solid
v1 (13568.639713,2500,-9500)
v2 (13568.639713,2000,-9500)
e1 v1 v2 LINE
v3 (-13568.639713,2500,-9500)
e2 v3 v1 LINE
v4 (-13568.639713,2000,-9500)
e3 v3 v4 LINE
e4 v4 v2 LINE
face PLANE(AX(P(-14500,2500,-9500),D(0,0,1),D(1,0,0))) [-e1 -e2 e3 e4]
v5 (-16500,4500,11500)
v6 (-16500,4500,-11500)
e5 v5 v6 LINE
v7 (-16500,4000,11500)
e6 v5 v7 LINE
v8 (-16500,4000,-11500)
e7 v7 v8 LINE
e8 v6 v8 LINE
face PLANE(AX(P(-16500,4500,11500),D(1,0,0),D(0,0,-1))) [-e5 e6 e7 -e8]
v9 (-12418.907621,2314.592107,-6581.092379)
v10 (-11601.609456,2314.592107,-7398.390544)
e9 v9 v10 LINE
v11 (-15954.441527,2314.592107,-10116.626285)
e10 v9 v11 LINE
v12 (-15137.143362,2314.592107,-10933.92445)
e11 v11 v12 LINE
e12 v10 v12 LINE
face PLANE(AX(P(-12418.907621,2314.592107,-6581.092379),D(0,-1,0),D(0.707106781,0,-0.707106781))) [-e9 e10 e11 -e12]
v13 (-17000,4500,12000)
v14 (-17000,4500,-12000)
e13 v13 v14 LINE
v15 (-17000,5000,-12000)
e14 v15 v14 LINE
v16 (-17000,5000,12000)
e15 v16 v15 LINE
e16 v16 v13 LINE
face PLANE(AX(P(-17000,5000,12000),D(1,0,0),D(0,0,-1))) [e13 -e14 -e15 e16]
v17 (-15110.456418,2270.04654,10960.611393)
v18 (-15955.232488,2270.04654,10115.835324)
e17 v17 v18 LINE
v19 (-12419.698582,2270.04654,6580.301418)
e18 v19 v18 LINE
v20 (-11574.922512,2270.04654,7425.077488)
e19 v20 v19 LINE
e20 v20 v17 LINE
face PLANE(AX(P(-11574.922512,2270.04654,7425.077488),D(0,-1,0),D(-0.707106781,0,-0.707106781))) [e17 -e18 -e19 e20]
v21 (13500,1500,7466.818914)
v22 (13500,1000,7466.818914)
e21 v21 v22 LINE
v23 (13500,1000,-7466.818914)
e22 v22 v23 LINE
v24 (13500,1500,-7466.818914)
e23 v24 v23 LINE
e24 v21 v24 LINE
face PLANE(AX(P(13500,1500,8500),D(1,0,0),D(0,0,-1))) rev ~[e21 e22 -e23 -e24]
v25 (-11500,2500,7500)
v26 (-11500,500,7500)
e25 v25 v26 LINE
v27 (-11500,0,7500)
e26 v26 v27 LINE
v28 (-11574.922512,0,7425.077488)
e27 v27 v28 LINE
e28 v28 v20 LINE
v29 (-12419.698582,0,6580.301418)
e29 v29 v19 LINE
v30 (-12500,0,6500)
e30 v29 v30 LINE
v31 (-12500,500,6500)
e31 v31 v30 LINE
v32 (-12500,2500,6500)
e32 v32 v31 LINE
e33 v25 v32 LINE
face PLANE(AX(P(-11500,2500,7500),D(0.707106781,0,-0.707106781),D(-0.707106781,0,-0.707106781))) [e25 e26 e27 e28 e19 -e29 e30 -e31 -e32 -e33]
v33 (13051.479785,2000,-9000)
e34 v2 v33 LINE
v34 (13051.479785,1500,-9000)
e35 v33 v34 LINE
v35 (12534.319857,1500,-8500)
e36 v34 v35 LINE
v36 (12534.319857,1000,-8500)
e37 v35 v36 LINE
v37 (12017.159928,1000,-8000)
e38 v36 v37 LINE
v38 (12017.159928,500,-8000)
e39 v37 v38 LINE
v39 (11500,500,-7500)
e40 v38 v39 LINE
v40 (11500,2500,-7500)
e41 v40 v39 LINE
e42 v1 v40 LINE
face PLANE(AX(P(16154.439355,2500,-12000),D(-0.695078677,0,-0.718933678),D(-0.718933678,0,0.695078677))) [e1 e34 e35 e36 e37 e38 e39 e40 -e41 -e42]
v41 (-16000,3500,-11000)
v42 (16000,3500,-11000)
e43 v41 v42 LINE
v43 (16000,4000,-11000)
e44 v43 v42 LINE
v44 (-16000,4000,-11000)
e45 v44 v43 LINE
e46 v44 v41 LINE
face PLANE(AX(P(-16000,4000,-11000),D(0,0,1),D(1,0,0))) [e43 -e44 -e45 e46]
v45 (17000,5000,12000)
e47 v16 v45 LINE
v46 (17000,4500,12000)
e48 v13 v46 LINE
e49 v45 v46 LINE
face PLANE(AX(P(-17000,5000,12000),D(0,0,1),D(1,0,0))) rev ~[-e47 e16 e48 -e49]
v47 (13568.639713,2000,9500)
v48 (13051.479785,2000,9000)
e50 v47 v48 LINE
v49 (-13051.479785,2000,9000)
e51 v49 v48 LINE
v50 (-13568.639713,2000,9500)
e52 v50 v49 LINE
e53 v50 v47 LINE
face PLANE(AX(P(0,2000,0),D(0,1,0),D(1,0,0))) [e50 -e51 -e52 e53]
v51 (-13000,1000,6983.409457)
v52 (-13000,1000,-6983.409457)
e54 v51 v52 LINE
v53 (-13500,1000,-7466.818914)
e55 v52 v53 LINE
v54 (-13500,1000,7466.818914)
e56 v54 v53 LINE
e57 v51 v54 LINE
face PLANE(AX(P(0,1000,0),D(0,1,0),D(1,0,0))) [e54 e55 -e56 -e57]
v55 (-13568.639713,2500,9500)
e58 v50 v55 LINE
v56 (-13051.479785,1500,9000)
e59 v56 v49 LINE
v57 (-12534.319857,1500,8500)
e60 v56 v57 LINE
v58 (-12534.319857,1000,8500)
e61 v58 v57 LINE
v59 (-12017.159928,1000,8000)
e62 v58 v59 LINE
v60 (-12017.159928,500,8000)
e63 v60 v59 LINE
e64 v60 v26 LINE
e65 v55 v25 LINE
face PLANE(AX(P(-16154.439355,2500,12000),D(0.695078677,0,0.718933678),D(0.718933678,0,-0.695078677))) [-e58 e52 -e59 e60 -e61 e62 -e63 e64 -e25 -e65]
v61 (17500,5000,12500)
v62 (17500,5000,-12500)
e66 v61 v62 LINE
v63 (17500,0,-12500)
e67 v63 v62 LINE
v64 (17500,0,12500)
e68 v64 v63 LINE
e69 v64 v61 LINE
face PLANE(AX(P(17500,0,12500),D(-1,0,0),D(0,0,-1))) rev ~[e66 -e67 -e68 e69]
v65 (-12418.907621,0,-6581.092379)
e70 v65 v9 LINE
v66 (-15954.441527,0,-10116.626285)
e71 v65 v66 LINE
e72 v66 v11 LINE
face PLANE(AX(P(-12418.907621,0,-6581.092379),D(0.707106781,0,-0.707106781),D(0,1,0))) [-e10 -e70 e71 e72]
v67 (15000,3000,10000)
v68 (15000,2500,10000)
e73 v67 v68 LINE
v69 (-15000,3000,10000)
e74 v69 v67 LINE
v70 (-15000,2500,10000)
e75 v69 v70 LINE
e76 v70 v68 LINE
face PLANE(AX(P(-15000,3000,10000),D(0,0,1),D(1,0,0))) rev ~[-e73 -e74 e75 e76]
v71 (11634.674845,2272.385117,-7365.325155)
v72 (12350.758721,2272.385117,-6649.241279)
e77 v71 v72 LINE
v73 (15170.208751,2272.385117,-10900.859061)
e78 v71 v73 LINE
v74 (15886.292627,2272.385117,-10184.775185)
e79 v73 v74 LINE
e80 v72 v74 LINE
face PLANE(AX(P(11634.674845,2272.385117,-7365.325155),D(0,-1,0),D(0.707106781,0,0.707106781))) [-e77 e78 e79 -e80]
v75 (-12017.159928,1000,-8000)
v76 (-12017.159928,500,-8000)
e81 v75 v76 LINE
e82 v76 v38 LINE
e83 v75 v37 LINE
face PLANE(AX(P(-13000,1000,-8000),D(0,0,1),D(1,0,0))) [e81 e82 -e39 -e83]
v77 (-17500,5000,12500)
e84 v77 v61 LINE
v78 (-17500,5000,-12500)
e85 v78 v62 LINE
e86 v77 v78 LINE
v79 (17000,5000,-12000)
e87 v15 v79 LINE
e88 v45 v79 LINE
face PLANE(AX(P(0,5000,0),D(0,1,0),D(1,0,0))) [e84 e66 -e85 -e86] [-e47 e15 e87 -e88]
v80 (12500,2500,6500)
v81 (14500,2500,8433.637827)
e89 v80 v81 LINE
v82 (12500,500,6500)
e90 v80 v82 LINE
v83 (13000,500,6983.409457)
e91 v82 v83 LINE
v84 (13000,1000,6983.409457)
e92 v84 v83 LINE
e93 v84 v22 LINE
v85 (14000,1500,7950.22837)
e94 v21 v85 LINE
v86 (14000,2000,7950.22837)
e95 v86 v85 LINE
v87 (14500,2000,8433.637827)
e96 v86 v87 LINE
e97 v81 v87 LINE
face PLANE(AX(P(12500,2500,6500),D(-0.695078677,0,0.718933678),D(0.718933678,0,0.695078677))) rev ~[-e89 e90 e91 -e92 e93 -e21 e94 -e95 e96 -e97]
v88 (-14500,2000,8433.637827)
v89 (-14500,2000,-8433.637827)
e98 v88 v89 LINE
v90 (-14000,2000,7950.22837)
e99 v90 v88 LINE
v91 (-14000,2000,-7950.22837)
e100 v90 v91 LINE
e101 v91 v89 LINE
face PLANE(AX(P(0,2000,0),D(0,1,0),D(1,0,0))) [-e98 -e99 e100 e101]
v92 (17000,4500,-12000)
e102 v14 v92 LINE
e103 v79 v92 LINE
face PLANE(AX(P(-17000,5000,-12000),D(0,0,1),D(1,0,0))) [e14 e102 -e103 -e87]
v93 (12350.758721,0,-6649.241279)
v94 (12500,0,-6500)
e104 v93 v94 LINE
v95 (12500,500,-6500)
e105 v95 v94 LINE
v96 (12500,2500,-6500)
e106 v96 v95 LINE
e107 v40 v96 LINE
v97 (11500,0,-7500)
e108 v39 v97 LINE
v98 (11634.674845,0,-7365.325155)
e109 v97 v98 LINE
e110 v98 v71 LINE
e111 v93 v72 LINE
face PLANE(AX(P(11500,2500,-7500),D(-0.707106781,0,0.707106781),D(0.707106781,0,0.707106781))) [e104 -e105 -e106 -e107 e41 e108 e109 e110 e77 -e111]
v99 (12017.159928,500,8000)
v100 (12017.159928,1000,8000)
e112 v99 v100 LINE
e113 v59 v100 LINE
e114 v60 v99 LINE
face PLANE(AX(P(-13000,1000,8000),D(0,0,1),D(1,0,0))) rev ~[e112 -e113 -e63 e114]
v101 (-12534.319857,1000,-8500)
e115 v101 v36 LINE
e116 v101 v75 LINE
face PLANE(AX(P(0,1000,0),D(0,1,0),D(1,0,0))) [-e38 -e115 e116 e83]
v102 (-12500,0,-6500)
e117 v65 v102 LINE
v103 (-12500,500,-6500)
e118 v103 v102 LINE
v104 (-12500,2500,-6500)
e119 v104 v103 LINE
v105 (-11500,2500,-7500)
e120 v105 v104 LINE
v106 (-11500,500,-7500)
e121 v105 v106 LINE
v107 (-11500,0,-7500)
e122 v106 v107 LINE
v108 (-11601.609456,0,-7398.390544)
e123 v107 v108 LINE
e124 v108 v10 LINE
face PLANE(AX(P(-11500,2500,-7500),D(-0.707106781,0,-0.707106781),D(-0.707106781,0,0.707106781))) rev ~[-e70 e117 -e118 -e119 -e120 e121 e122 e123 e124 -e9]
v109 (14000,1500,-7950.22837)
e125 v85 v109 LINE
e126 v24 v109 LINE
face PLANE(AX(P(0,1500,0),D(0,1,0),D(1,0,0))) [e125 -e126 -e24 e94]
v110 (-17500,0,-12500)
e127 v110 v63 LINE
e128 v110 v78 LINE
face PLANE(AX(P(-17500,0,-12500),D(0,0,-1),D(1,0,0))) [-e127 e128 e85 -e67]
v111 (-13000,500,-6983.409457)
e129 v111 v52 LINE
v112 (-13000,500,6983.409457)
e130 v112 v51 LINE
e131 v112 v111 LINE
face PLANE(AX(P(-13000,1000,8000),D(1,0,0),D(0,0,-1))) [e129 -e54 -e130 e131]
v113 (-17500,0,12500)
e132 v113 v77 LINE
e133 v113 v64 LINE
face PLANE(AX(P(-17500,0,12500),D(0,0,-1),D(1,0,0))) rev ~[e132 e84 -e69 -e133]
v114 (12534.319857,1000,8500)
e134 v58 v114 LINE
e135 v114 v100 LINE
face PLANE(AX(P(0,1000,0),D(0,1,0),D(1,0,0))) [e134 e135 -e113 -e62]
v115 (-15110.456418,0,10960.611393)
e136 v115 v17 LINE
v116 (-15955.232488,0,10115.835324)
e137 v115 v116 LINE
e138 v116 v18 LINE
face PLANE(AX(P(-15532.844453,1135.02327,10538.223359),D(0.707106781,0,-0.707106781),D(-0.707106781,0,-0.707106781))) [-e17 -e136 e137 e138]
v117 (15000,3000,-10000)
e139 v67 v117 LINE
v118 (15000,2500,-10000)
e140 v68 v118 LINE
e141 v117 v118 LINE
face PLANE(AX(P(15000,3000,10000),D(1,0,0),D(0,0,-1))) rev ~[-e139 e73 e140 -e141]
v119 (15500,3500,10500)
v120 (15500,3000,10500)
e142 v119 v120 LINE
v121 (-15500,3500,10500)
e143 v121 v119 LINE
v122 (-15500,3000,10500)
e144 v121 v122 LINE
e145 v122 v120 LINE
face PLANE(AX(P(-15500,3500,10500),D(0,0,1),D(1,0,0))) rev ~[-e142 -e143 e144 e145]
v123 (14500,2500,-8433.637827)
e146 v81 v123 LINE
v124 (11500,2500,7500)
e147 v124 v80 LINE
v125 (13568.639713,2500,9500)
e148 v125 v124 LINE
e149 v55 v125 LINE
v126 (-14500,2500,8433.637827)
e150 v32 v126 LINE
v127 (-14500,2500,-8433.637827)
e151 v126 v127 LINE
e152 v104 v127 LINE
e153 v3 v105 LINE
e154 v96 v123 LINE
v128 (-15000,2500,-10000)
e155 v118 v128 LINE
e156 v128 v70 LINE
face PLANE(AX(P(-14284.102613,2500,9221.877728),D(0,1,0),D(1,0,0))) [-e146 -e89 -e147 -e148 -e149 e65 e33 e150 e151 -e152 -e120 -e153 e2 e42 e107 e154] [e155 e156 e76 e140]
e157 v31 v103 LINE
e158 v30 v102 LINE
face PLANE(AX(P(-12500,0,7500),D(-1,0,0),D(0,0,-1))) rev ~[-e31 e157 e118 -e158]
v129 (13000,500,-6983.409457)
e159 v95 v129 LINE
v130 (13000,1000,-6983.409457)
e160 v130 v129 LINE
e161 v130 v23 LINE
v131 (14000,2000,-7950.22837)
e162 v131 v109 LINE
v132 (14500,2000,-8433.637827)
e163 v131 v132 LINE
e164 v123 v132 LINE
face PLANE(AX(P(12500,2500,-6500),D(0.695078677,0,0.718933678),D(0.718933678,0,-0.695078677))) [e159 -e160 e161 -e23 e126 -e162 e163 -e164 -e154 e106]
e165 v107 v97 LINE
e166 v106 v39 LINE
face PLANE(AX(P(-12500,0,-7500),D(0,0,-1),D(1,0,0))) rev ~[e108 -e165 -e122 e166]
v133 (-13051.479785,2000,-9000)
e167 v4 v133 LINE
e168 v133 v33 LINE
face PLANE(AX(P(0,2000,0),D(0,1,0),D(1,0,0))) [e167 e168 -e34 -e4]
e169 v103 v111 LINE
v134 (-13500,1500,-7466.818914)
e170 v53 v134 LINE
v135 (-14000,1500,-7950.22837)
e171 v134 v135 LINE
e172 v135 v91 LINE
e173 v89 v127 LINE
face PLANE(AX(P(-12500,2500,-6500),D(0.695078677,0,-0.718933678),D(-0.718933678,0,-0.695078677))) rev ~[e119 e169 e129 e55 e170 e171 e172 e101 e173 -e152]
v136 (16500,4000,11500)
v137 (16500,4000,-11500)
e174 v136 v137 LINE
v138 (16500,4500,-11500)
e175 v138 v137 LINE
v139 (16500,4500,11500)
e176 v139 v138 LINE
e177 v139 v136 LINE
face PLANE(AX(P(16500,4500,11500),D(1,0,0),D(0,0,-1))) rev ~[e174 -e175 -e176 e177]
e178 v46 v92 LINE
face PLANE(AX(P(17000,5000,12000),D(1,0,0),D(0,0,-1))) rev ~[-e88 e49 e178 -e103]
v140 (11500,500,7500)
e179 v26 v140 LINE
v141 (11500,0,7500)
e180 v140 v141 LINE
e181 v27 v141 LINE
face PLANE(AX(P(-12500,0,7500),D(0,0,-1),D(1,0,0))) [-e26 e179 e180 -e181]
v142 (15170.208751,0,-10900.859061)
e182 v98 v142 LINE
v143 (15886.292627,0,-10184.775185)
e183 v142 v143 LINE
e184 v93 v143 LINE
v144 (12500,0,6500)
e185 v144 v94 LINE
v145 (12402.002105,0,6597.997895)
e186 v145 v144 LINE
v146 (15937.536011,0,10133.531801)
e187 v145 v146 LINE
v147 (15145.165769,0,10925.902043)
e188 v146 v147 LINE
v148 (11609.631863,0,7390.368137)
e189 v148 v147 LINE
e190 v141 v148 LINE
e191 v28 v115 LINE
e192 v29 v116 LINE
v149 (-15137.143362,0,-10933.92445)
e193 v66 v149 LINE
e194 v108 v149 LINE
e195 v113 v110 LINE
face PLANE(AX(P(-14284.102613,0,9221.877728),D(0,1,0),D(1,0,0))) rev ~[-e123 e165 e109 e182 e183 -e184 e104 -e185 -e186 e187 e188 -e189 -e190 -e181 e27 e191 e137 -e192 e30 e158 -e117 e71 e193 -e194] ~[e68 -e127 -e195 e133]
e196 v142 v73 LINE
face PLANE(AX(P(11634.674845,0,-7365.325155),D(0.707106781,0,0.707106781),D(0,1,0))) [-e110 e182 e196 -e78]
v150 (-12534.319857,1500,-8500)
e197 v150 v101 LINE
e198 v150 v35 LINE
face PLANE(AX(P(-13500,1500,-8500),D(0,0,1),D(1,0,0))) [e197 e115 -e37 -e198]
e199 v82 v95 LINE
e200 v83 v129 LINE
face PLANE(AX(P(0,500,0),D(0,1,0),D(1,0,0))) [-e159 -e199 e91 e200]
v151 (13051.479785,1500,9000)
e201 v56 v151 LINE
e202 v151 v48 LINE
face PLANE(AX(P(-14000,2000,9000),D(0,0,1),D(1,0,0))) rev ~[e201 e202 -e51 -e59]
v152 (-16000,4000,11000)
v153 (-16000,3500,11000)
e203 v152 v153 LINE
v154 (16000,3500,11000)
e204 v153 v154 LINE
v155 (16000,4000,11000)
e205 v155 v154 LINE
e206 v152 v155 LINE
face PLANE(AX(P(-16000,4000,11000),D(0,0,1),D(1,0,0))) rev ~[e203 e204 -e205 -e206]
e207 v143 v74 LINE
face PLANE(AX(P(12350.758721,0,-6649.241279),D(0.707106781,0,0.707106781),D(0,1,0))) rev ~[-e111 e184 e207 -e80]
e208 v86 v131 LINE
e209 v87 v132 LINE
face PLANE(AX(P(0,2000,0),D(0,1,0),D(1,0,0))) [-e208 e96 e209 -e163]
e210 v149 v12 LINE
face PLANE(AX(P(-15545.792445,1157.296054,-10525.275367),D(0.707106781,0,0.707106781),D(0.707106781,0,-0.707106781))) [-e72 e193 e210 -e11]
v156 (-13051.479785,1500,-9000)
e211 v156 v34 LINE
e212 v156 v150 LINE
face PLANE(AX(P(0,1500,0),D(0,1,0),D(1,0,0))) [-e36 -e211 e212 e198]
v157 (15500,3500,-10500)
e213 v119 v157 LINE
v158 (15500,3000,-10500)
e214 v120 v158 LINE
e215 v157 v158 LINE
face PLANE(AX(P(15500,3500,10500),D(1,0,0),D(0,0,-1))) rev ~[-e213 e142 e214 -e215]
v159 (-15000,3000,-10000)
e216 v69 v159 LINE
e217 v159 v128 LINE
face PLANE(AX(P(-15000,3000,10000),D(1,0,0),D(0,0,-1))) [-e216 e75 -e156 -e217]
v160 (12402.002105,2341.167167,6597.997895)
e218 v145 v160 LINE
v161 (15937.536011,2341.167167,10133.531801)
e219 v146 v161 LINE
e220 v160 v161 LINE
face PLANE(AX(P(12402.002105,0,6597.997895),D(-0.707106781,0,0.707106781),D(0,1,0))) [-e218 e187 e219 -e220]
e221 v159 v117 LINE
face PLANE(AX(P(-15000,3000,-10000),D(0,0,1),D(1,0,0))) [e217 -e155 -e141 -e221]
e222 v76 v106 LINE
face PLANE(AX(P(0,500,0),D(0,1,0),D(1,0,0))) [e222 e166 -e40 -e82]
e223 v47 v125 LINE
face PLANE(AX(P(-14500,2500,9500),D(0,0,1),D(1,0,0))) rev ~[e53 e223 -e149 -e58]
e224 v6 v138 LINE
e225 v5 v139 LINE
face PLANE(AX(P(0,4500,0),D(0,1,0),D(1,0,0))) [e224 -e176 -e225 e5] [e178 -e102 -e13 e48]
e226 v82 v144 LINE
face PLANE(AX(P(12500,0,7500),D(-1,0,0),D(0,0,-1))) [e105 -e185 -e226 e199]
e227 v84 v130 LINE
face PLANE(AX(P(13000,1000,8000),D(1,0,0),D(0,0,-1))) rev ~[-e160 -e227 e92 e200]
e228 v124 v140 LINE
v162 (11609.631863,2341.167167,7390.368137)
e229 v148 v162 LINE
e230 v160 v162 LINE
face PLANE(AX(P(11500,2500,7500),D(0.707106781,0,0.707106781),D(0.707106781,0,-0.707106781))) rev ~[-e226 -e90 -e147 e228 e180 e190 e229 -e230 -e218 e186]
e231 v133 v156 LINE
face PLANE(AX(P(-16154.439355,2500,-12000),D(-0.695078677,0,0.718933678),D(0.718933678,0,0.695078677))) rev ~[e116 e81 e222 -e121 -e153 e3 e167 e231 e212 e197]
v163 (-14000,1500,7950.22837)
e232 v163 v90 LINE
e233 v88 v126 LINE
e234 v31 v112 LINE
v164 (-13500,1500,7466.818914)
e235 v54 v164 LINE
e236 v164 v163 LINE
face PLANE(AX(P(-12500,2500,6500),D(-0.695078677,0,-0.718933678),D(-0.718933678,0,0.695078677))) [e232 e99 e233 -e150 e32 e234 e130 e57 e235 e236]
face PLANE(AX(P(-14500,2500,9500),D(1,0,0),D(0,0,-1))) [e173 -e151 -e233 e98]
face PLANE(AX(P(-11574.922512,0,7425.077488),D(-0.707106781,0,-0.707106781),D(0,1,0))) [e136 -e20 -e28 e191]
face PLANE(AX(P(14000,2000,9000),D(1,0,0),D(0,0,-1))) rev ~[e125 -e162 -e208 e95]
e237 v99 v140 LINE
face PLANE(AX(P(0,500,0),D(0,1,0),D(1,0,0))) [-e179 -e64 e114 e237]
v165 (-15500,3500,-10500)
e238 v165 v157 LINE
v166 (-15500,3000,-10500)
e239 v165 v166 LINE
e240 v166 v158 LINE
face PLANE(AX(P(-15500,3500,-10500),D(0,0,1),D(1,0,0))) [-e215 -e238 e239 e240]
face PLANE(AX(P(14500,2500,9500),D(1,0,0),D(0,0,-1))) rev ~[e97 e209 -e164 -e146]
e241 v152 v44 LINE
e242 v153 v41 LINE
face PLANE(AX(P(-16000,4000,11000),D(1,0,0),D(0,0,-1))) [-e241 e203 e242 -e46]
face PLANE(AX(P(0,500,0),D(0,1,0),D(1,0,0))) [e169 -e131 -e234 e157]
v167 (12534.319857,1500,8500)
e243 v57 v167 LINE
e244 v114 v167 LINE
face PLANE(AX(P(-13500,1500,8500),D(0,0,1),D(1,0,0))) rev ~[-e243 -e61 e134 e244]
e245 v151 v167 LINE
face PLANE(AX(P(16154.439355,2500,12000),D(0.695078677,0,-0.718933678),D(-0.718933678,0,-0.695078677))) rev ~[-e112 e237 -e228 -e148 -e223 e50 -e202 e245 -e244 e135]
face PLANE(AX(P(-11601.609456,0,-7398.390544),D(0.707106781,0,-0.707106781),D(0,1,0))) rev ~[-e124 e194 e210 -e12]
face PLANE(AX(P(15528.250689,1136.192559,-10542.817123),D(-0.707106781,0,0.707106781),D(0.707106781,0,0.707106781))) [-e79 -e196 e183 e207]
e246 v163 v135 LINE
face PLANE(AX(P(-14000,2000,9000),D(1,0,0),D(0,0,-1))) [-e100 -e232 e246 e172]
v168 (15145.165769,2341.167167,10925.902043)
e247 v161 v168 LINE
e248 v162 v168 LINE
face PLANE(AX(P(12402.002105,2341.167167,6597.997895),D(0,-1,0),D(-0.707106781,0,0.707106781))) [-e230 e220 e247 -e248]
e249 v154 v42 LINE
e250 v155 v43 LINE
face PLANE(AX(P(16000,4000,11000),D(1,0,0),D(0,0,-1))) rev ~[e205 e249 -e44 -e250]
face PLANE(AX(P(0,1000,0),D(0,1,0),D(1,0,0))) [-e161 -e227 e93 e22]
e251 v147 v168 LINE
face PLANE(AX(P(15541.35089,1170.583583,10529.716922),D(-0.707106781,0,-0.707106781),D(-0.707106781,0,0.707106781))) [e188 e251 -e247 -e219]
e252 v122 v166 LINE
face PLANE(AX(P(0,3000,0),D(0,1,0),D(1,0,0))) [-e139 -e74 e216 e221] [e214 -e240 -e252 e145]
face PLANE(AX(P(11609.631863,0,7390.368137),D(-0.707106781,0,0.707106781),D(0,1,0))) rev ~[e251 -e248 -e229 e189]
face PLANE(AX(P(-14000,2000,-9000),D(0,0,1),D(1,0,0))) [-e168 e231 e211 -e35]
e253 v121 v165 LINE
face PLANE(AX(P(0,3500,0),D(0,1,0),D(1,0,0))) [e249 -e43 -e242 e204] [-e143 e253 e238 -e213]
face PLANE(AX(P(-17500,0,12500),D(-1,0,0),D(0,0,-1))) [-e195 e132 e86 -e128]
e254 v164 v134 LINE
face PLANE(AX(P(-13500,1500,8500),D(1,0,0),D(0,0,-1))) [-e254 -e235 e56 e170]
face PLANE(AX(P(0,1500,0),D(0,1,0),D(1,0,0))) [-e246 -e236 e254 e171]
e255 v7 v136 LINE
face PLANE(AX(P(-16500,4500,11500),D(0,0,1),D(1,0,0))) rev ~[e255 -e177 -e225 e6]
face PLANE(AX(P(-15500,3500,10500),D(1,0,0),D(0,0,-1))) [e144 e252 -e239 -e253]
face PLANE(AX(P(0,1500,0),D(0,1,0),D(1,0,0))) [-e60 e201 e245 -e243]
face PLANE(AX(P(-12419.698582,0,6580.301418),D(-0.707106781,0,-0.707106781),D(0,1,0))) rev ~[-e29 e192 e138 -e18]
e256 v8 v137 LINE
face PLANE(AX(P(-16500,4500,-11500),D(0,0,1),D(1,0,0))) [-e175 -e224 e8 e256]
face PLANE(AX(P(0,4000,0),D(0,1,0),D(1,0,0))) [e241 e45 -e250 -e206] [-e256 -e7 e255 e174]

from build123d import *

# Parameters (mm, degrees)
ESQUISSE1_W              = 35000
ESQUISSE1_H              = 25000
ESQUISSE1_W_2            = 25000
ESQUISSE1_H_2            = 15000
BOSS_EXTRU_2_DEPTH       = 5000
ESQUISSE2_W              = 34000
ESQUISSE2_H              = 24000
ENL_V_MAT_EXTRU_1_DEPTH  = 500
ESQUISSE3_W              = 33000
ESQUISSE3_H              = 23000
ENL_V_MAT_EXTRU_2_DEPTH  = 500
ESQUISSE4_W              = 32000
ESQUISSE4_H              = 22000
ENL_V_MAT_EXTRU_3_DEPTH  = 500
ESQUISSE5_W              = 31000
ESQUISSE5_H              = 21000
ENL_V_MAT_EXTRU_4_DEPTH  = 500
ESQUISSE6_W              = 30000
ESQUISSE6_H              = 20000
ENL_V_MAT_EXTRU_5_DEPTH  = 500
ESQUISSE7_W              = 29000
ESQUISSE7_H              = 19000
ENL_V_MAT_EXTRU_6_DEPTH  = 500
ESQUISSE8_W              = 28000
ESQUISSE8_H              = 18000
ENL_V_MAT_EXTRU_7_DEPTH  = 500
ESQUISSE9_W              = 27000
ESQUISSE9_H              = 17000
ENL_V_MAT_EXTRU_8_DEPTH  = 500
ESQUISSE10_W             = 26000
ESQUISSE10_H             = 16000
ENL_V_MAT_EXTRU_9_DEPTH  = 500
BOSS_EXTRU_4_DEPTH       = 2500
ESQUISSE12_W             = 1012.695529181
ESQUISSE12_H             = 2272.385117154
ENL_V_MAT_EXTRU_10_DEPTH = 5000
ESQUISSE13_W             = 1120.580742395
ESQUISSE13_H             = 2341.167166511
ENL_V_MAT_EXTRU_11_DEPTH = 5000
ESQUISSE14_W             = 1194.693774878
ESQUISSE14_H             = 2270.046539735
ENL_V_MAT_EXTRU_12_DEPTH = 5000
ESQUISSE15_W             = 1155.834149298
ESQUISSE15_H             = 2314.592107333
ENL_V_MAT_EXTRU_14_DEPTH = 5000


with BuildPart() as part:
    # Esquisse1 → Boss.-Extru.2 (new body)
    with BuildSketch(Plane(origin=(0, 0, 0), x_dir=(1, 0, 0), z_dir=(0, 1, 0))):
        Rectangle(ESQUISSE1_W, ESQUISSE1_H)
        Rectangle(ESQUISSE1_W_2, ESQUISSE1_H_2, mode=Mode.SUBTRACT)
    extrude(amount=BOSS_EXTRU_2_DEPTH)

    # Esquisse2 → Enlèv. mat.-Extru.1 (cut)
    with BuildSketch(Plane(origin=(0, 5000, 0), x_dir=(1, 0, 0), z_dir=(0, 1, 0))):
        Rectangle(ESQUISSE2_W, ESQUISSE2_H)
    extrude(amount=-ENL_V_MAT_EXTRU_1_DEPTH, mode=Mode.SUBTRACT)

    # Esquisse3 → Enlèv. mat.-Extru.2 (cut)
    with BuildSketch(Plane(origin=(0, 4500, 0), x_dir=(1, 0, 0), z_dir=(0, 1, 0))):
        Rectangle(ESQUISSE3_W, ESQUISSE3_H)
    extrude(amount=-ENL_V_MAT_EXTRU_2_DEPTH, mode=Mode.SUBTRACT)

    # Esquisse4 → Enlèv. mat.-Extru.3 (cut)
    with BuildSketch(Plane(origin=(0, 4000, 0), x_dir=(1, 0, 0), z_dir=(0, 1, 0))):
        Rectangle(ESQUISSE4_W, ESQUISSE4_H)
    extrude(amount=-ENL_V_MAT_EXTRU_3_DEPTH, mode=Mode.SUBTRACT)

    # Esquisse5 → Enlèv. mat.-Extru.4 (cut)
    with BuildSketch(Plane(origin=(0, 3500, 0), x_dir=(1, 0, 0), z_dir=(0, 1, 0))):
        Rectangle(ESQUISSE5_W, ESQUISSE5_H)
    extrude(amount=-ENL_V_MAT_EXTRU_4_DEPTH, mode=Mode.SUBTRACT)

    # Esquisse6 → Enlèv. mat.-Extru.5 (cut)
    with BuildSketch(Plane(origin=(0, 3000, 0), x_dir=(1, 0, 0), z_dir=(0, 1, 0))):
        Rectangle(ESQUISSE6_W, ESQUISSE6_H)
    extrude(amount=-ENL_V_MAT_EXTRU_5_DEPTH, mode=Mode.SUBTRACT)

    # Esquisse7 → Enlèv. mat.-Extru.6 (cut)
    with BuildSketch(Plane(origin=(0, 2500, 0), x_dir=(1, 0, 0), z_dir=(0, 1, 0))):
        Rectangle(ESQUISSE7_W, ESQUISSE7_H)
    extrude(amount=-ENL_V_MAT_EXTRU_6_DEPTH, mode=Mode.SUBTRACT)

    # Esquisse8 → Enlèv. mat.-Extru.7 (cut)
    with BuildSketch(Plane(origin=(0, 2000, 0), x_dir=(1, 0, 0), z_dir=(0, 1, 0))):
        Rectangle(ESQUISSE8_W, ESQUISSE8_H)
    extrude(amount=-ENL_V_MAT_EXTRU_7_DEPTH, mode=Mode.SUBTRACT)

    # Esquisse9 → Enlèv. mat.-Extru.8 (cut)
    with BuildSketch(Plane(origin=(0, 1500, 0), x_dir=(1, 0, 0), z_dir=(0, 1, 0))):
        Rectangle(ESQUISSE9_W, ESQUISSE9_H)
    extrude(amount=-ENL_V_MAT_EXTRU_8_DEPTH, mode=Mode.SUBTRACT)

    # Esquisse10 → Enlèv. mat.-Extru.9 (cut)
    with BuildSketch(Plane(origin=(0, 1000, 0), x_dir=(1, 0, 0), z_dir=(0, 1, 0))):
        Rectangle(ESQUISSE10_W, ESQUISSE10_H)
    extrude(amount=-ENL_V_MAT_EXTRU_9_DEPTH, mode=Mode.SUBTRACT)

    # Esquisse11 → Boss.-Extru.4 (add)
    with BuildSketch(Plane(origin=(0, 2500, 0), x_dir=(1, 0, 0), z_dir=(0, 1, 0))):
        Polygon((-12500, -6500), (-17000, -10850.685111022), (-16154.439354551, -12000), (-11500, -7500), align=None)
        Polygon((-17000, 10850.685111022), (-16154.439354551, 12000), (-11500, 7500), (-12500, 6500), align=None)
        Polygon((12500, 6500), (17000, 10850.685111022), (16154.439354551, 12000), (11500, 7500), align=None)
        Polygon((17000, -10850.685111022), (16154.439354551, -12000), (11500, -7500), (12500, -6500), align=None)
    extrude(amount=-BOSS_EXTRU_4_DEPTH)

    # Esquisse12 → Enlèv. mat.-Extru.10 (cut)
    with BuildSketch(Plane(origin=(9500, 0, -9500), x_dir=(0.707106781, 0, 0.707106781), z_dir=(-0.707106781, 0, 0.707106781))):
        with Locations((3525.233881406, 1136.192558577)):
            Rectangle(ESQUISSE12_W, ESQUISSE12_H)
    extrude(amount=-ENL_V_MAT_EXTRU_10_DEPTH, mode=Mode.SUBTRACT)

    # Esquisse13 → Enlèv. mat.-Extru.11 (cut)
    with BuildSketch(Plane(origin=(9500, 0, 9500), x_dir=(-0.707106781, 0, 0.707106781), z_dir=(-0.707106781, 0, -0.707106781))):
        with Locations((-3543.76036393, 1170.583583256)):
            Rectangle(ESQUISSE13_W, ESQUISSE13_H)
    extrude(amount=-ENL_V_MAT_EXTRU_11_DEPTH, mode=Mode.SUBTRACT)

    # Esquisse14 → Enlèv. mat.-Extru.12 (cut)
    with BuildSketch(Plane(origin=(-9500, 0, 9500), x_dir=(-0.707106781, 0, -0.707106781), z_dir=(0.707106781, 0, -0.707106781))):
        with Locations((3531.730445489, 1135.023269868)):
            Rectangle(ESQUISSE14_W, ESQUISSE14_H)
    extrude(amount=-ENL_V_MAT_EXTRU_12_DEPTH, mode=Mode.SUBTRACT)

    # Esquisse15 → Enlèv. mat.-Extru.14 (cut)
    with BuildSketch(Plane(origin=(-9500, 0, -9500), x_dir=(0.707106781, 0, -0.707106781), z_dir=(0.707106781, 0, 0.707106781))):
        with Locations((-3550.041670603, 1157.296053667)):
            Rectangle(ESQUISSE15_W, ESQUISSE15_H)
    extrude(amount=-ENL_V_MAT_EXTRU_14_DEPTH, mode=Mode.SUBTRACT)


solid = part.part
